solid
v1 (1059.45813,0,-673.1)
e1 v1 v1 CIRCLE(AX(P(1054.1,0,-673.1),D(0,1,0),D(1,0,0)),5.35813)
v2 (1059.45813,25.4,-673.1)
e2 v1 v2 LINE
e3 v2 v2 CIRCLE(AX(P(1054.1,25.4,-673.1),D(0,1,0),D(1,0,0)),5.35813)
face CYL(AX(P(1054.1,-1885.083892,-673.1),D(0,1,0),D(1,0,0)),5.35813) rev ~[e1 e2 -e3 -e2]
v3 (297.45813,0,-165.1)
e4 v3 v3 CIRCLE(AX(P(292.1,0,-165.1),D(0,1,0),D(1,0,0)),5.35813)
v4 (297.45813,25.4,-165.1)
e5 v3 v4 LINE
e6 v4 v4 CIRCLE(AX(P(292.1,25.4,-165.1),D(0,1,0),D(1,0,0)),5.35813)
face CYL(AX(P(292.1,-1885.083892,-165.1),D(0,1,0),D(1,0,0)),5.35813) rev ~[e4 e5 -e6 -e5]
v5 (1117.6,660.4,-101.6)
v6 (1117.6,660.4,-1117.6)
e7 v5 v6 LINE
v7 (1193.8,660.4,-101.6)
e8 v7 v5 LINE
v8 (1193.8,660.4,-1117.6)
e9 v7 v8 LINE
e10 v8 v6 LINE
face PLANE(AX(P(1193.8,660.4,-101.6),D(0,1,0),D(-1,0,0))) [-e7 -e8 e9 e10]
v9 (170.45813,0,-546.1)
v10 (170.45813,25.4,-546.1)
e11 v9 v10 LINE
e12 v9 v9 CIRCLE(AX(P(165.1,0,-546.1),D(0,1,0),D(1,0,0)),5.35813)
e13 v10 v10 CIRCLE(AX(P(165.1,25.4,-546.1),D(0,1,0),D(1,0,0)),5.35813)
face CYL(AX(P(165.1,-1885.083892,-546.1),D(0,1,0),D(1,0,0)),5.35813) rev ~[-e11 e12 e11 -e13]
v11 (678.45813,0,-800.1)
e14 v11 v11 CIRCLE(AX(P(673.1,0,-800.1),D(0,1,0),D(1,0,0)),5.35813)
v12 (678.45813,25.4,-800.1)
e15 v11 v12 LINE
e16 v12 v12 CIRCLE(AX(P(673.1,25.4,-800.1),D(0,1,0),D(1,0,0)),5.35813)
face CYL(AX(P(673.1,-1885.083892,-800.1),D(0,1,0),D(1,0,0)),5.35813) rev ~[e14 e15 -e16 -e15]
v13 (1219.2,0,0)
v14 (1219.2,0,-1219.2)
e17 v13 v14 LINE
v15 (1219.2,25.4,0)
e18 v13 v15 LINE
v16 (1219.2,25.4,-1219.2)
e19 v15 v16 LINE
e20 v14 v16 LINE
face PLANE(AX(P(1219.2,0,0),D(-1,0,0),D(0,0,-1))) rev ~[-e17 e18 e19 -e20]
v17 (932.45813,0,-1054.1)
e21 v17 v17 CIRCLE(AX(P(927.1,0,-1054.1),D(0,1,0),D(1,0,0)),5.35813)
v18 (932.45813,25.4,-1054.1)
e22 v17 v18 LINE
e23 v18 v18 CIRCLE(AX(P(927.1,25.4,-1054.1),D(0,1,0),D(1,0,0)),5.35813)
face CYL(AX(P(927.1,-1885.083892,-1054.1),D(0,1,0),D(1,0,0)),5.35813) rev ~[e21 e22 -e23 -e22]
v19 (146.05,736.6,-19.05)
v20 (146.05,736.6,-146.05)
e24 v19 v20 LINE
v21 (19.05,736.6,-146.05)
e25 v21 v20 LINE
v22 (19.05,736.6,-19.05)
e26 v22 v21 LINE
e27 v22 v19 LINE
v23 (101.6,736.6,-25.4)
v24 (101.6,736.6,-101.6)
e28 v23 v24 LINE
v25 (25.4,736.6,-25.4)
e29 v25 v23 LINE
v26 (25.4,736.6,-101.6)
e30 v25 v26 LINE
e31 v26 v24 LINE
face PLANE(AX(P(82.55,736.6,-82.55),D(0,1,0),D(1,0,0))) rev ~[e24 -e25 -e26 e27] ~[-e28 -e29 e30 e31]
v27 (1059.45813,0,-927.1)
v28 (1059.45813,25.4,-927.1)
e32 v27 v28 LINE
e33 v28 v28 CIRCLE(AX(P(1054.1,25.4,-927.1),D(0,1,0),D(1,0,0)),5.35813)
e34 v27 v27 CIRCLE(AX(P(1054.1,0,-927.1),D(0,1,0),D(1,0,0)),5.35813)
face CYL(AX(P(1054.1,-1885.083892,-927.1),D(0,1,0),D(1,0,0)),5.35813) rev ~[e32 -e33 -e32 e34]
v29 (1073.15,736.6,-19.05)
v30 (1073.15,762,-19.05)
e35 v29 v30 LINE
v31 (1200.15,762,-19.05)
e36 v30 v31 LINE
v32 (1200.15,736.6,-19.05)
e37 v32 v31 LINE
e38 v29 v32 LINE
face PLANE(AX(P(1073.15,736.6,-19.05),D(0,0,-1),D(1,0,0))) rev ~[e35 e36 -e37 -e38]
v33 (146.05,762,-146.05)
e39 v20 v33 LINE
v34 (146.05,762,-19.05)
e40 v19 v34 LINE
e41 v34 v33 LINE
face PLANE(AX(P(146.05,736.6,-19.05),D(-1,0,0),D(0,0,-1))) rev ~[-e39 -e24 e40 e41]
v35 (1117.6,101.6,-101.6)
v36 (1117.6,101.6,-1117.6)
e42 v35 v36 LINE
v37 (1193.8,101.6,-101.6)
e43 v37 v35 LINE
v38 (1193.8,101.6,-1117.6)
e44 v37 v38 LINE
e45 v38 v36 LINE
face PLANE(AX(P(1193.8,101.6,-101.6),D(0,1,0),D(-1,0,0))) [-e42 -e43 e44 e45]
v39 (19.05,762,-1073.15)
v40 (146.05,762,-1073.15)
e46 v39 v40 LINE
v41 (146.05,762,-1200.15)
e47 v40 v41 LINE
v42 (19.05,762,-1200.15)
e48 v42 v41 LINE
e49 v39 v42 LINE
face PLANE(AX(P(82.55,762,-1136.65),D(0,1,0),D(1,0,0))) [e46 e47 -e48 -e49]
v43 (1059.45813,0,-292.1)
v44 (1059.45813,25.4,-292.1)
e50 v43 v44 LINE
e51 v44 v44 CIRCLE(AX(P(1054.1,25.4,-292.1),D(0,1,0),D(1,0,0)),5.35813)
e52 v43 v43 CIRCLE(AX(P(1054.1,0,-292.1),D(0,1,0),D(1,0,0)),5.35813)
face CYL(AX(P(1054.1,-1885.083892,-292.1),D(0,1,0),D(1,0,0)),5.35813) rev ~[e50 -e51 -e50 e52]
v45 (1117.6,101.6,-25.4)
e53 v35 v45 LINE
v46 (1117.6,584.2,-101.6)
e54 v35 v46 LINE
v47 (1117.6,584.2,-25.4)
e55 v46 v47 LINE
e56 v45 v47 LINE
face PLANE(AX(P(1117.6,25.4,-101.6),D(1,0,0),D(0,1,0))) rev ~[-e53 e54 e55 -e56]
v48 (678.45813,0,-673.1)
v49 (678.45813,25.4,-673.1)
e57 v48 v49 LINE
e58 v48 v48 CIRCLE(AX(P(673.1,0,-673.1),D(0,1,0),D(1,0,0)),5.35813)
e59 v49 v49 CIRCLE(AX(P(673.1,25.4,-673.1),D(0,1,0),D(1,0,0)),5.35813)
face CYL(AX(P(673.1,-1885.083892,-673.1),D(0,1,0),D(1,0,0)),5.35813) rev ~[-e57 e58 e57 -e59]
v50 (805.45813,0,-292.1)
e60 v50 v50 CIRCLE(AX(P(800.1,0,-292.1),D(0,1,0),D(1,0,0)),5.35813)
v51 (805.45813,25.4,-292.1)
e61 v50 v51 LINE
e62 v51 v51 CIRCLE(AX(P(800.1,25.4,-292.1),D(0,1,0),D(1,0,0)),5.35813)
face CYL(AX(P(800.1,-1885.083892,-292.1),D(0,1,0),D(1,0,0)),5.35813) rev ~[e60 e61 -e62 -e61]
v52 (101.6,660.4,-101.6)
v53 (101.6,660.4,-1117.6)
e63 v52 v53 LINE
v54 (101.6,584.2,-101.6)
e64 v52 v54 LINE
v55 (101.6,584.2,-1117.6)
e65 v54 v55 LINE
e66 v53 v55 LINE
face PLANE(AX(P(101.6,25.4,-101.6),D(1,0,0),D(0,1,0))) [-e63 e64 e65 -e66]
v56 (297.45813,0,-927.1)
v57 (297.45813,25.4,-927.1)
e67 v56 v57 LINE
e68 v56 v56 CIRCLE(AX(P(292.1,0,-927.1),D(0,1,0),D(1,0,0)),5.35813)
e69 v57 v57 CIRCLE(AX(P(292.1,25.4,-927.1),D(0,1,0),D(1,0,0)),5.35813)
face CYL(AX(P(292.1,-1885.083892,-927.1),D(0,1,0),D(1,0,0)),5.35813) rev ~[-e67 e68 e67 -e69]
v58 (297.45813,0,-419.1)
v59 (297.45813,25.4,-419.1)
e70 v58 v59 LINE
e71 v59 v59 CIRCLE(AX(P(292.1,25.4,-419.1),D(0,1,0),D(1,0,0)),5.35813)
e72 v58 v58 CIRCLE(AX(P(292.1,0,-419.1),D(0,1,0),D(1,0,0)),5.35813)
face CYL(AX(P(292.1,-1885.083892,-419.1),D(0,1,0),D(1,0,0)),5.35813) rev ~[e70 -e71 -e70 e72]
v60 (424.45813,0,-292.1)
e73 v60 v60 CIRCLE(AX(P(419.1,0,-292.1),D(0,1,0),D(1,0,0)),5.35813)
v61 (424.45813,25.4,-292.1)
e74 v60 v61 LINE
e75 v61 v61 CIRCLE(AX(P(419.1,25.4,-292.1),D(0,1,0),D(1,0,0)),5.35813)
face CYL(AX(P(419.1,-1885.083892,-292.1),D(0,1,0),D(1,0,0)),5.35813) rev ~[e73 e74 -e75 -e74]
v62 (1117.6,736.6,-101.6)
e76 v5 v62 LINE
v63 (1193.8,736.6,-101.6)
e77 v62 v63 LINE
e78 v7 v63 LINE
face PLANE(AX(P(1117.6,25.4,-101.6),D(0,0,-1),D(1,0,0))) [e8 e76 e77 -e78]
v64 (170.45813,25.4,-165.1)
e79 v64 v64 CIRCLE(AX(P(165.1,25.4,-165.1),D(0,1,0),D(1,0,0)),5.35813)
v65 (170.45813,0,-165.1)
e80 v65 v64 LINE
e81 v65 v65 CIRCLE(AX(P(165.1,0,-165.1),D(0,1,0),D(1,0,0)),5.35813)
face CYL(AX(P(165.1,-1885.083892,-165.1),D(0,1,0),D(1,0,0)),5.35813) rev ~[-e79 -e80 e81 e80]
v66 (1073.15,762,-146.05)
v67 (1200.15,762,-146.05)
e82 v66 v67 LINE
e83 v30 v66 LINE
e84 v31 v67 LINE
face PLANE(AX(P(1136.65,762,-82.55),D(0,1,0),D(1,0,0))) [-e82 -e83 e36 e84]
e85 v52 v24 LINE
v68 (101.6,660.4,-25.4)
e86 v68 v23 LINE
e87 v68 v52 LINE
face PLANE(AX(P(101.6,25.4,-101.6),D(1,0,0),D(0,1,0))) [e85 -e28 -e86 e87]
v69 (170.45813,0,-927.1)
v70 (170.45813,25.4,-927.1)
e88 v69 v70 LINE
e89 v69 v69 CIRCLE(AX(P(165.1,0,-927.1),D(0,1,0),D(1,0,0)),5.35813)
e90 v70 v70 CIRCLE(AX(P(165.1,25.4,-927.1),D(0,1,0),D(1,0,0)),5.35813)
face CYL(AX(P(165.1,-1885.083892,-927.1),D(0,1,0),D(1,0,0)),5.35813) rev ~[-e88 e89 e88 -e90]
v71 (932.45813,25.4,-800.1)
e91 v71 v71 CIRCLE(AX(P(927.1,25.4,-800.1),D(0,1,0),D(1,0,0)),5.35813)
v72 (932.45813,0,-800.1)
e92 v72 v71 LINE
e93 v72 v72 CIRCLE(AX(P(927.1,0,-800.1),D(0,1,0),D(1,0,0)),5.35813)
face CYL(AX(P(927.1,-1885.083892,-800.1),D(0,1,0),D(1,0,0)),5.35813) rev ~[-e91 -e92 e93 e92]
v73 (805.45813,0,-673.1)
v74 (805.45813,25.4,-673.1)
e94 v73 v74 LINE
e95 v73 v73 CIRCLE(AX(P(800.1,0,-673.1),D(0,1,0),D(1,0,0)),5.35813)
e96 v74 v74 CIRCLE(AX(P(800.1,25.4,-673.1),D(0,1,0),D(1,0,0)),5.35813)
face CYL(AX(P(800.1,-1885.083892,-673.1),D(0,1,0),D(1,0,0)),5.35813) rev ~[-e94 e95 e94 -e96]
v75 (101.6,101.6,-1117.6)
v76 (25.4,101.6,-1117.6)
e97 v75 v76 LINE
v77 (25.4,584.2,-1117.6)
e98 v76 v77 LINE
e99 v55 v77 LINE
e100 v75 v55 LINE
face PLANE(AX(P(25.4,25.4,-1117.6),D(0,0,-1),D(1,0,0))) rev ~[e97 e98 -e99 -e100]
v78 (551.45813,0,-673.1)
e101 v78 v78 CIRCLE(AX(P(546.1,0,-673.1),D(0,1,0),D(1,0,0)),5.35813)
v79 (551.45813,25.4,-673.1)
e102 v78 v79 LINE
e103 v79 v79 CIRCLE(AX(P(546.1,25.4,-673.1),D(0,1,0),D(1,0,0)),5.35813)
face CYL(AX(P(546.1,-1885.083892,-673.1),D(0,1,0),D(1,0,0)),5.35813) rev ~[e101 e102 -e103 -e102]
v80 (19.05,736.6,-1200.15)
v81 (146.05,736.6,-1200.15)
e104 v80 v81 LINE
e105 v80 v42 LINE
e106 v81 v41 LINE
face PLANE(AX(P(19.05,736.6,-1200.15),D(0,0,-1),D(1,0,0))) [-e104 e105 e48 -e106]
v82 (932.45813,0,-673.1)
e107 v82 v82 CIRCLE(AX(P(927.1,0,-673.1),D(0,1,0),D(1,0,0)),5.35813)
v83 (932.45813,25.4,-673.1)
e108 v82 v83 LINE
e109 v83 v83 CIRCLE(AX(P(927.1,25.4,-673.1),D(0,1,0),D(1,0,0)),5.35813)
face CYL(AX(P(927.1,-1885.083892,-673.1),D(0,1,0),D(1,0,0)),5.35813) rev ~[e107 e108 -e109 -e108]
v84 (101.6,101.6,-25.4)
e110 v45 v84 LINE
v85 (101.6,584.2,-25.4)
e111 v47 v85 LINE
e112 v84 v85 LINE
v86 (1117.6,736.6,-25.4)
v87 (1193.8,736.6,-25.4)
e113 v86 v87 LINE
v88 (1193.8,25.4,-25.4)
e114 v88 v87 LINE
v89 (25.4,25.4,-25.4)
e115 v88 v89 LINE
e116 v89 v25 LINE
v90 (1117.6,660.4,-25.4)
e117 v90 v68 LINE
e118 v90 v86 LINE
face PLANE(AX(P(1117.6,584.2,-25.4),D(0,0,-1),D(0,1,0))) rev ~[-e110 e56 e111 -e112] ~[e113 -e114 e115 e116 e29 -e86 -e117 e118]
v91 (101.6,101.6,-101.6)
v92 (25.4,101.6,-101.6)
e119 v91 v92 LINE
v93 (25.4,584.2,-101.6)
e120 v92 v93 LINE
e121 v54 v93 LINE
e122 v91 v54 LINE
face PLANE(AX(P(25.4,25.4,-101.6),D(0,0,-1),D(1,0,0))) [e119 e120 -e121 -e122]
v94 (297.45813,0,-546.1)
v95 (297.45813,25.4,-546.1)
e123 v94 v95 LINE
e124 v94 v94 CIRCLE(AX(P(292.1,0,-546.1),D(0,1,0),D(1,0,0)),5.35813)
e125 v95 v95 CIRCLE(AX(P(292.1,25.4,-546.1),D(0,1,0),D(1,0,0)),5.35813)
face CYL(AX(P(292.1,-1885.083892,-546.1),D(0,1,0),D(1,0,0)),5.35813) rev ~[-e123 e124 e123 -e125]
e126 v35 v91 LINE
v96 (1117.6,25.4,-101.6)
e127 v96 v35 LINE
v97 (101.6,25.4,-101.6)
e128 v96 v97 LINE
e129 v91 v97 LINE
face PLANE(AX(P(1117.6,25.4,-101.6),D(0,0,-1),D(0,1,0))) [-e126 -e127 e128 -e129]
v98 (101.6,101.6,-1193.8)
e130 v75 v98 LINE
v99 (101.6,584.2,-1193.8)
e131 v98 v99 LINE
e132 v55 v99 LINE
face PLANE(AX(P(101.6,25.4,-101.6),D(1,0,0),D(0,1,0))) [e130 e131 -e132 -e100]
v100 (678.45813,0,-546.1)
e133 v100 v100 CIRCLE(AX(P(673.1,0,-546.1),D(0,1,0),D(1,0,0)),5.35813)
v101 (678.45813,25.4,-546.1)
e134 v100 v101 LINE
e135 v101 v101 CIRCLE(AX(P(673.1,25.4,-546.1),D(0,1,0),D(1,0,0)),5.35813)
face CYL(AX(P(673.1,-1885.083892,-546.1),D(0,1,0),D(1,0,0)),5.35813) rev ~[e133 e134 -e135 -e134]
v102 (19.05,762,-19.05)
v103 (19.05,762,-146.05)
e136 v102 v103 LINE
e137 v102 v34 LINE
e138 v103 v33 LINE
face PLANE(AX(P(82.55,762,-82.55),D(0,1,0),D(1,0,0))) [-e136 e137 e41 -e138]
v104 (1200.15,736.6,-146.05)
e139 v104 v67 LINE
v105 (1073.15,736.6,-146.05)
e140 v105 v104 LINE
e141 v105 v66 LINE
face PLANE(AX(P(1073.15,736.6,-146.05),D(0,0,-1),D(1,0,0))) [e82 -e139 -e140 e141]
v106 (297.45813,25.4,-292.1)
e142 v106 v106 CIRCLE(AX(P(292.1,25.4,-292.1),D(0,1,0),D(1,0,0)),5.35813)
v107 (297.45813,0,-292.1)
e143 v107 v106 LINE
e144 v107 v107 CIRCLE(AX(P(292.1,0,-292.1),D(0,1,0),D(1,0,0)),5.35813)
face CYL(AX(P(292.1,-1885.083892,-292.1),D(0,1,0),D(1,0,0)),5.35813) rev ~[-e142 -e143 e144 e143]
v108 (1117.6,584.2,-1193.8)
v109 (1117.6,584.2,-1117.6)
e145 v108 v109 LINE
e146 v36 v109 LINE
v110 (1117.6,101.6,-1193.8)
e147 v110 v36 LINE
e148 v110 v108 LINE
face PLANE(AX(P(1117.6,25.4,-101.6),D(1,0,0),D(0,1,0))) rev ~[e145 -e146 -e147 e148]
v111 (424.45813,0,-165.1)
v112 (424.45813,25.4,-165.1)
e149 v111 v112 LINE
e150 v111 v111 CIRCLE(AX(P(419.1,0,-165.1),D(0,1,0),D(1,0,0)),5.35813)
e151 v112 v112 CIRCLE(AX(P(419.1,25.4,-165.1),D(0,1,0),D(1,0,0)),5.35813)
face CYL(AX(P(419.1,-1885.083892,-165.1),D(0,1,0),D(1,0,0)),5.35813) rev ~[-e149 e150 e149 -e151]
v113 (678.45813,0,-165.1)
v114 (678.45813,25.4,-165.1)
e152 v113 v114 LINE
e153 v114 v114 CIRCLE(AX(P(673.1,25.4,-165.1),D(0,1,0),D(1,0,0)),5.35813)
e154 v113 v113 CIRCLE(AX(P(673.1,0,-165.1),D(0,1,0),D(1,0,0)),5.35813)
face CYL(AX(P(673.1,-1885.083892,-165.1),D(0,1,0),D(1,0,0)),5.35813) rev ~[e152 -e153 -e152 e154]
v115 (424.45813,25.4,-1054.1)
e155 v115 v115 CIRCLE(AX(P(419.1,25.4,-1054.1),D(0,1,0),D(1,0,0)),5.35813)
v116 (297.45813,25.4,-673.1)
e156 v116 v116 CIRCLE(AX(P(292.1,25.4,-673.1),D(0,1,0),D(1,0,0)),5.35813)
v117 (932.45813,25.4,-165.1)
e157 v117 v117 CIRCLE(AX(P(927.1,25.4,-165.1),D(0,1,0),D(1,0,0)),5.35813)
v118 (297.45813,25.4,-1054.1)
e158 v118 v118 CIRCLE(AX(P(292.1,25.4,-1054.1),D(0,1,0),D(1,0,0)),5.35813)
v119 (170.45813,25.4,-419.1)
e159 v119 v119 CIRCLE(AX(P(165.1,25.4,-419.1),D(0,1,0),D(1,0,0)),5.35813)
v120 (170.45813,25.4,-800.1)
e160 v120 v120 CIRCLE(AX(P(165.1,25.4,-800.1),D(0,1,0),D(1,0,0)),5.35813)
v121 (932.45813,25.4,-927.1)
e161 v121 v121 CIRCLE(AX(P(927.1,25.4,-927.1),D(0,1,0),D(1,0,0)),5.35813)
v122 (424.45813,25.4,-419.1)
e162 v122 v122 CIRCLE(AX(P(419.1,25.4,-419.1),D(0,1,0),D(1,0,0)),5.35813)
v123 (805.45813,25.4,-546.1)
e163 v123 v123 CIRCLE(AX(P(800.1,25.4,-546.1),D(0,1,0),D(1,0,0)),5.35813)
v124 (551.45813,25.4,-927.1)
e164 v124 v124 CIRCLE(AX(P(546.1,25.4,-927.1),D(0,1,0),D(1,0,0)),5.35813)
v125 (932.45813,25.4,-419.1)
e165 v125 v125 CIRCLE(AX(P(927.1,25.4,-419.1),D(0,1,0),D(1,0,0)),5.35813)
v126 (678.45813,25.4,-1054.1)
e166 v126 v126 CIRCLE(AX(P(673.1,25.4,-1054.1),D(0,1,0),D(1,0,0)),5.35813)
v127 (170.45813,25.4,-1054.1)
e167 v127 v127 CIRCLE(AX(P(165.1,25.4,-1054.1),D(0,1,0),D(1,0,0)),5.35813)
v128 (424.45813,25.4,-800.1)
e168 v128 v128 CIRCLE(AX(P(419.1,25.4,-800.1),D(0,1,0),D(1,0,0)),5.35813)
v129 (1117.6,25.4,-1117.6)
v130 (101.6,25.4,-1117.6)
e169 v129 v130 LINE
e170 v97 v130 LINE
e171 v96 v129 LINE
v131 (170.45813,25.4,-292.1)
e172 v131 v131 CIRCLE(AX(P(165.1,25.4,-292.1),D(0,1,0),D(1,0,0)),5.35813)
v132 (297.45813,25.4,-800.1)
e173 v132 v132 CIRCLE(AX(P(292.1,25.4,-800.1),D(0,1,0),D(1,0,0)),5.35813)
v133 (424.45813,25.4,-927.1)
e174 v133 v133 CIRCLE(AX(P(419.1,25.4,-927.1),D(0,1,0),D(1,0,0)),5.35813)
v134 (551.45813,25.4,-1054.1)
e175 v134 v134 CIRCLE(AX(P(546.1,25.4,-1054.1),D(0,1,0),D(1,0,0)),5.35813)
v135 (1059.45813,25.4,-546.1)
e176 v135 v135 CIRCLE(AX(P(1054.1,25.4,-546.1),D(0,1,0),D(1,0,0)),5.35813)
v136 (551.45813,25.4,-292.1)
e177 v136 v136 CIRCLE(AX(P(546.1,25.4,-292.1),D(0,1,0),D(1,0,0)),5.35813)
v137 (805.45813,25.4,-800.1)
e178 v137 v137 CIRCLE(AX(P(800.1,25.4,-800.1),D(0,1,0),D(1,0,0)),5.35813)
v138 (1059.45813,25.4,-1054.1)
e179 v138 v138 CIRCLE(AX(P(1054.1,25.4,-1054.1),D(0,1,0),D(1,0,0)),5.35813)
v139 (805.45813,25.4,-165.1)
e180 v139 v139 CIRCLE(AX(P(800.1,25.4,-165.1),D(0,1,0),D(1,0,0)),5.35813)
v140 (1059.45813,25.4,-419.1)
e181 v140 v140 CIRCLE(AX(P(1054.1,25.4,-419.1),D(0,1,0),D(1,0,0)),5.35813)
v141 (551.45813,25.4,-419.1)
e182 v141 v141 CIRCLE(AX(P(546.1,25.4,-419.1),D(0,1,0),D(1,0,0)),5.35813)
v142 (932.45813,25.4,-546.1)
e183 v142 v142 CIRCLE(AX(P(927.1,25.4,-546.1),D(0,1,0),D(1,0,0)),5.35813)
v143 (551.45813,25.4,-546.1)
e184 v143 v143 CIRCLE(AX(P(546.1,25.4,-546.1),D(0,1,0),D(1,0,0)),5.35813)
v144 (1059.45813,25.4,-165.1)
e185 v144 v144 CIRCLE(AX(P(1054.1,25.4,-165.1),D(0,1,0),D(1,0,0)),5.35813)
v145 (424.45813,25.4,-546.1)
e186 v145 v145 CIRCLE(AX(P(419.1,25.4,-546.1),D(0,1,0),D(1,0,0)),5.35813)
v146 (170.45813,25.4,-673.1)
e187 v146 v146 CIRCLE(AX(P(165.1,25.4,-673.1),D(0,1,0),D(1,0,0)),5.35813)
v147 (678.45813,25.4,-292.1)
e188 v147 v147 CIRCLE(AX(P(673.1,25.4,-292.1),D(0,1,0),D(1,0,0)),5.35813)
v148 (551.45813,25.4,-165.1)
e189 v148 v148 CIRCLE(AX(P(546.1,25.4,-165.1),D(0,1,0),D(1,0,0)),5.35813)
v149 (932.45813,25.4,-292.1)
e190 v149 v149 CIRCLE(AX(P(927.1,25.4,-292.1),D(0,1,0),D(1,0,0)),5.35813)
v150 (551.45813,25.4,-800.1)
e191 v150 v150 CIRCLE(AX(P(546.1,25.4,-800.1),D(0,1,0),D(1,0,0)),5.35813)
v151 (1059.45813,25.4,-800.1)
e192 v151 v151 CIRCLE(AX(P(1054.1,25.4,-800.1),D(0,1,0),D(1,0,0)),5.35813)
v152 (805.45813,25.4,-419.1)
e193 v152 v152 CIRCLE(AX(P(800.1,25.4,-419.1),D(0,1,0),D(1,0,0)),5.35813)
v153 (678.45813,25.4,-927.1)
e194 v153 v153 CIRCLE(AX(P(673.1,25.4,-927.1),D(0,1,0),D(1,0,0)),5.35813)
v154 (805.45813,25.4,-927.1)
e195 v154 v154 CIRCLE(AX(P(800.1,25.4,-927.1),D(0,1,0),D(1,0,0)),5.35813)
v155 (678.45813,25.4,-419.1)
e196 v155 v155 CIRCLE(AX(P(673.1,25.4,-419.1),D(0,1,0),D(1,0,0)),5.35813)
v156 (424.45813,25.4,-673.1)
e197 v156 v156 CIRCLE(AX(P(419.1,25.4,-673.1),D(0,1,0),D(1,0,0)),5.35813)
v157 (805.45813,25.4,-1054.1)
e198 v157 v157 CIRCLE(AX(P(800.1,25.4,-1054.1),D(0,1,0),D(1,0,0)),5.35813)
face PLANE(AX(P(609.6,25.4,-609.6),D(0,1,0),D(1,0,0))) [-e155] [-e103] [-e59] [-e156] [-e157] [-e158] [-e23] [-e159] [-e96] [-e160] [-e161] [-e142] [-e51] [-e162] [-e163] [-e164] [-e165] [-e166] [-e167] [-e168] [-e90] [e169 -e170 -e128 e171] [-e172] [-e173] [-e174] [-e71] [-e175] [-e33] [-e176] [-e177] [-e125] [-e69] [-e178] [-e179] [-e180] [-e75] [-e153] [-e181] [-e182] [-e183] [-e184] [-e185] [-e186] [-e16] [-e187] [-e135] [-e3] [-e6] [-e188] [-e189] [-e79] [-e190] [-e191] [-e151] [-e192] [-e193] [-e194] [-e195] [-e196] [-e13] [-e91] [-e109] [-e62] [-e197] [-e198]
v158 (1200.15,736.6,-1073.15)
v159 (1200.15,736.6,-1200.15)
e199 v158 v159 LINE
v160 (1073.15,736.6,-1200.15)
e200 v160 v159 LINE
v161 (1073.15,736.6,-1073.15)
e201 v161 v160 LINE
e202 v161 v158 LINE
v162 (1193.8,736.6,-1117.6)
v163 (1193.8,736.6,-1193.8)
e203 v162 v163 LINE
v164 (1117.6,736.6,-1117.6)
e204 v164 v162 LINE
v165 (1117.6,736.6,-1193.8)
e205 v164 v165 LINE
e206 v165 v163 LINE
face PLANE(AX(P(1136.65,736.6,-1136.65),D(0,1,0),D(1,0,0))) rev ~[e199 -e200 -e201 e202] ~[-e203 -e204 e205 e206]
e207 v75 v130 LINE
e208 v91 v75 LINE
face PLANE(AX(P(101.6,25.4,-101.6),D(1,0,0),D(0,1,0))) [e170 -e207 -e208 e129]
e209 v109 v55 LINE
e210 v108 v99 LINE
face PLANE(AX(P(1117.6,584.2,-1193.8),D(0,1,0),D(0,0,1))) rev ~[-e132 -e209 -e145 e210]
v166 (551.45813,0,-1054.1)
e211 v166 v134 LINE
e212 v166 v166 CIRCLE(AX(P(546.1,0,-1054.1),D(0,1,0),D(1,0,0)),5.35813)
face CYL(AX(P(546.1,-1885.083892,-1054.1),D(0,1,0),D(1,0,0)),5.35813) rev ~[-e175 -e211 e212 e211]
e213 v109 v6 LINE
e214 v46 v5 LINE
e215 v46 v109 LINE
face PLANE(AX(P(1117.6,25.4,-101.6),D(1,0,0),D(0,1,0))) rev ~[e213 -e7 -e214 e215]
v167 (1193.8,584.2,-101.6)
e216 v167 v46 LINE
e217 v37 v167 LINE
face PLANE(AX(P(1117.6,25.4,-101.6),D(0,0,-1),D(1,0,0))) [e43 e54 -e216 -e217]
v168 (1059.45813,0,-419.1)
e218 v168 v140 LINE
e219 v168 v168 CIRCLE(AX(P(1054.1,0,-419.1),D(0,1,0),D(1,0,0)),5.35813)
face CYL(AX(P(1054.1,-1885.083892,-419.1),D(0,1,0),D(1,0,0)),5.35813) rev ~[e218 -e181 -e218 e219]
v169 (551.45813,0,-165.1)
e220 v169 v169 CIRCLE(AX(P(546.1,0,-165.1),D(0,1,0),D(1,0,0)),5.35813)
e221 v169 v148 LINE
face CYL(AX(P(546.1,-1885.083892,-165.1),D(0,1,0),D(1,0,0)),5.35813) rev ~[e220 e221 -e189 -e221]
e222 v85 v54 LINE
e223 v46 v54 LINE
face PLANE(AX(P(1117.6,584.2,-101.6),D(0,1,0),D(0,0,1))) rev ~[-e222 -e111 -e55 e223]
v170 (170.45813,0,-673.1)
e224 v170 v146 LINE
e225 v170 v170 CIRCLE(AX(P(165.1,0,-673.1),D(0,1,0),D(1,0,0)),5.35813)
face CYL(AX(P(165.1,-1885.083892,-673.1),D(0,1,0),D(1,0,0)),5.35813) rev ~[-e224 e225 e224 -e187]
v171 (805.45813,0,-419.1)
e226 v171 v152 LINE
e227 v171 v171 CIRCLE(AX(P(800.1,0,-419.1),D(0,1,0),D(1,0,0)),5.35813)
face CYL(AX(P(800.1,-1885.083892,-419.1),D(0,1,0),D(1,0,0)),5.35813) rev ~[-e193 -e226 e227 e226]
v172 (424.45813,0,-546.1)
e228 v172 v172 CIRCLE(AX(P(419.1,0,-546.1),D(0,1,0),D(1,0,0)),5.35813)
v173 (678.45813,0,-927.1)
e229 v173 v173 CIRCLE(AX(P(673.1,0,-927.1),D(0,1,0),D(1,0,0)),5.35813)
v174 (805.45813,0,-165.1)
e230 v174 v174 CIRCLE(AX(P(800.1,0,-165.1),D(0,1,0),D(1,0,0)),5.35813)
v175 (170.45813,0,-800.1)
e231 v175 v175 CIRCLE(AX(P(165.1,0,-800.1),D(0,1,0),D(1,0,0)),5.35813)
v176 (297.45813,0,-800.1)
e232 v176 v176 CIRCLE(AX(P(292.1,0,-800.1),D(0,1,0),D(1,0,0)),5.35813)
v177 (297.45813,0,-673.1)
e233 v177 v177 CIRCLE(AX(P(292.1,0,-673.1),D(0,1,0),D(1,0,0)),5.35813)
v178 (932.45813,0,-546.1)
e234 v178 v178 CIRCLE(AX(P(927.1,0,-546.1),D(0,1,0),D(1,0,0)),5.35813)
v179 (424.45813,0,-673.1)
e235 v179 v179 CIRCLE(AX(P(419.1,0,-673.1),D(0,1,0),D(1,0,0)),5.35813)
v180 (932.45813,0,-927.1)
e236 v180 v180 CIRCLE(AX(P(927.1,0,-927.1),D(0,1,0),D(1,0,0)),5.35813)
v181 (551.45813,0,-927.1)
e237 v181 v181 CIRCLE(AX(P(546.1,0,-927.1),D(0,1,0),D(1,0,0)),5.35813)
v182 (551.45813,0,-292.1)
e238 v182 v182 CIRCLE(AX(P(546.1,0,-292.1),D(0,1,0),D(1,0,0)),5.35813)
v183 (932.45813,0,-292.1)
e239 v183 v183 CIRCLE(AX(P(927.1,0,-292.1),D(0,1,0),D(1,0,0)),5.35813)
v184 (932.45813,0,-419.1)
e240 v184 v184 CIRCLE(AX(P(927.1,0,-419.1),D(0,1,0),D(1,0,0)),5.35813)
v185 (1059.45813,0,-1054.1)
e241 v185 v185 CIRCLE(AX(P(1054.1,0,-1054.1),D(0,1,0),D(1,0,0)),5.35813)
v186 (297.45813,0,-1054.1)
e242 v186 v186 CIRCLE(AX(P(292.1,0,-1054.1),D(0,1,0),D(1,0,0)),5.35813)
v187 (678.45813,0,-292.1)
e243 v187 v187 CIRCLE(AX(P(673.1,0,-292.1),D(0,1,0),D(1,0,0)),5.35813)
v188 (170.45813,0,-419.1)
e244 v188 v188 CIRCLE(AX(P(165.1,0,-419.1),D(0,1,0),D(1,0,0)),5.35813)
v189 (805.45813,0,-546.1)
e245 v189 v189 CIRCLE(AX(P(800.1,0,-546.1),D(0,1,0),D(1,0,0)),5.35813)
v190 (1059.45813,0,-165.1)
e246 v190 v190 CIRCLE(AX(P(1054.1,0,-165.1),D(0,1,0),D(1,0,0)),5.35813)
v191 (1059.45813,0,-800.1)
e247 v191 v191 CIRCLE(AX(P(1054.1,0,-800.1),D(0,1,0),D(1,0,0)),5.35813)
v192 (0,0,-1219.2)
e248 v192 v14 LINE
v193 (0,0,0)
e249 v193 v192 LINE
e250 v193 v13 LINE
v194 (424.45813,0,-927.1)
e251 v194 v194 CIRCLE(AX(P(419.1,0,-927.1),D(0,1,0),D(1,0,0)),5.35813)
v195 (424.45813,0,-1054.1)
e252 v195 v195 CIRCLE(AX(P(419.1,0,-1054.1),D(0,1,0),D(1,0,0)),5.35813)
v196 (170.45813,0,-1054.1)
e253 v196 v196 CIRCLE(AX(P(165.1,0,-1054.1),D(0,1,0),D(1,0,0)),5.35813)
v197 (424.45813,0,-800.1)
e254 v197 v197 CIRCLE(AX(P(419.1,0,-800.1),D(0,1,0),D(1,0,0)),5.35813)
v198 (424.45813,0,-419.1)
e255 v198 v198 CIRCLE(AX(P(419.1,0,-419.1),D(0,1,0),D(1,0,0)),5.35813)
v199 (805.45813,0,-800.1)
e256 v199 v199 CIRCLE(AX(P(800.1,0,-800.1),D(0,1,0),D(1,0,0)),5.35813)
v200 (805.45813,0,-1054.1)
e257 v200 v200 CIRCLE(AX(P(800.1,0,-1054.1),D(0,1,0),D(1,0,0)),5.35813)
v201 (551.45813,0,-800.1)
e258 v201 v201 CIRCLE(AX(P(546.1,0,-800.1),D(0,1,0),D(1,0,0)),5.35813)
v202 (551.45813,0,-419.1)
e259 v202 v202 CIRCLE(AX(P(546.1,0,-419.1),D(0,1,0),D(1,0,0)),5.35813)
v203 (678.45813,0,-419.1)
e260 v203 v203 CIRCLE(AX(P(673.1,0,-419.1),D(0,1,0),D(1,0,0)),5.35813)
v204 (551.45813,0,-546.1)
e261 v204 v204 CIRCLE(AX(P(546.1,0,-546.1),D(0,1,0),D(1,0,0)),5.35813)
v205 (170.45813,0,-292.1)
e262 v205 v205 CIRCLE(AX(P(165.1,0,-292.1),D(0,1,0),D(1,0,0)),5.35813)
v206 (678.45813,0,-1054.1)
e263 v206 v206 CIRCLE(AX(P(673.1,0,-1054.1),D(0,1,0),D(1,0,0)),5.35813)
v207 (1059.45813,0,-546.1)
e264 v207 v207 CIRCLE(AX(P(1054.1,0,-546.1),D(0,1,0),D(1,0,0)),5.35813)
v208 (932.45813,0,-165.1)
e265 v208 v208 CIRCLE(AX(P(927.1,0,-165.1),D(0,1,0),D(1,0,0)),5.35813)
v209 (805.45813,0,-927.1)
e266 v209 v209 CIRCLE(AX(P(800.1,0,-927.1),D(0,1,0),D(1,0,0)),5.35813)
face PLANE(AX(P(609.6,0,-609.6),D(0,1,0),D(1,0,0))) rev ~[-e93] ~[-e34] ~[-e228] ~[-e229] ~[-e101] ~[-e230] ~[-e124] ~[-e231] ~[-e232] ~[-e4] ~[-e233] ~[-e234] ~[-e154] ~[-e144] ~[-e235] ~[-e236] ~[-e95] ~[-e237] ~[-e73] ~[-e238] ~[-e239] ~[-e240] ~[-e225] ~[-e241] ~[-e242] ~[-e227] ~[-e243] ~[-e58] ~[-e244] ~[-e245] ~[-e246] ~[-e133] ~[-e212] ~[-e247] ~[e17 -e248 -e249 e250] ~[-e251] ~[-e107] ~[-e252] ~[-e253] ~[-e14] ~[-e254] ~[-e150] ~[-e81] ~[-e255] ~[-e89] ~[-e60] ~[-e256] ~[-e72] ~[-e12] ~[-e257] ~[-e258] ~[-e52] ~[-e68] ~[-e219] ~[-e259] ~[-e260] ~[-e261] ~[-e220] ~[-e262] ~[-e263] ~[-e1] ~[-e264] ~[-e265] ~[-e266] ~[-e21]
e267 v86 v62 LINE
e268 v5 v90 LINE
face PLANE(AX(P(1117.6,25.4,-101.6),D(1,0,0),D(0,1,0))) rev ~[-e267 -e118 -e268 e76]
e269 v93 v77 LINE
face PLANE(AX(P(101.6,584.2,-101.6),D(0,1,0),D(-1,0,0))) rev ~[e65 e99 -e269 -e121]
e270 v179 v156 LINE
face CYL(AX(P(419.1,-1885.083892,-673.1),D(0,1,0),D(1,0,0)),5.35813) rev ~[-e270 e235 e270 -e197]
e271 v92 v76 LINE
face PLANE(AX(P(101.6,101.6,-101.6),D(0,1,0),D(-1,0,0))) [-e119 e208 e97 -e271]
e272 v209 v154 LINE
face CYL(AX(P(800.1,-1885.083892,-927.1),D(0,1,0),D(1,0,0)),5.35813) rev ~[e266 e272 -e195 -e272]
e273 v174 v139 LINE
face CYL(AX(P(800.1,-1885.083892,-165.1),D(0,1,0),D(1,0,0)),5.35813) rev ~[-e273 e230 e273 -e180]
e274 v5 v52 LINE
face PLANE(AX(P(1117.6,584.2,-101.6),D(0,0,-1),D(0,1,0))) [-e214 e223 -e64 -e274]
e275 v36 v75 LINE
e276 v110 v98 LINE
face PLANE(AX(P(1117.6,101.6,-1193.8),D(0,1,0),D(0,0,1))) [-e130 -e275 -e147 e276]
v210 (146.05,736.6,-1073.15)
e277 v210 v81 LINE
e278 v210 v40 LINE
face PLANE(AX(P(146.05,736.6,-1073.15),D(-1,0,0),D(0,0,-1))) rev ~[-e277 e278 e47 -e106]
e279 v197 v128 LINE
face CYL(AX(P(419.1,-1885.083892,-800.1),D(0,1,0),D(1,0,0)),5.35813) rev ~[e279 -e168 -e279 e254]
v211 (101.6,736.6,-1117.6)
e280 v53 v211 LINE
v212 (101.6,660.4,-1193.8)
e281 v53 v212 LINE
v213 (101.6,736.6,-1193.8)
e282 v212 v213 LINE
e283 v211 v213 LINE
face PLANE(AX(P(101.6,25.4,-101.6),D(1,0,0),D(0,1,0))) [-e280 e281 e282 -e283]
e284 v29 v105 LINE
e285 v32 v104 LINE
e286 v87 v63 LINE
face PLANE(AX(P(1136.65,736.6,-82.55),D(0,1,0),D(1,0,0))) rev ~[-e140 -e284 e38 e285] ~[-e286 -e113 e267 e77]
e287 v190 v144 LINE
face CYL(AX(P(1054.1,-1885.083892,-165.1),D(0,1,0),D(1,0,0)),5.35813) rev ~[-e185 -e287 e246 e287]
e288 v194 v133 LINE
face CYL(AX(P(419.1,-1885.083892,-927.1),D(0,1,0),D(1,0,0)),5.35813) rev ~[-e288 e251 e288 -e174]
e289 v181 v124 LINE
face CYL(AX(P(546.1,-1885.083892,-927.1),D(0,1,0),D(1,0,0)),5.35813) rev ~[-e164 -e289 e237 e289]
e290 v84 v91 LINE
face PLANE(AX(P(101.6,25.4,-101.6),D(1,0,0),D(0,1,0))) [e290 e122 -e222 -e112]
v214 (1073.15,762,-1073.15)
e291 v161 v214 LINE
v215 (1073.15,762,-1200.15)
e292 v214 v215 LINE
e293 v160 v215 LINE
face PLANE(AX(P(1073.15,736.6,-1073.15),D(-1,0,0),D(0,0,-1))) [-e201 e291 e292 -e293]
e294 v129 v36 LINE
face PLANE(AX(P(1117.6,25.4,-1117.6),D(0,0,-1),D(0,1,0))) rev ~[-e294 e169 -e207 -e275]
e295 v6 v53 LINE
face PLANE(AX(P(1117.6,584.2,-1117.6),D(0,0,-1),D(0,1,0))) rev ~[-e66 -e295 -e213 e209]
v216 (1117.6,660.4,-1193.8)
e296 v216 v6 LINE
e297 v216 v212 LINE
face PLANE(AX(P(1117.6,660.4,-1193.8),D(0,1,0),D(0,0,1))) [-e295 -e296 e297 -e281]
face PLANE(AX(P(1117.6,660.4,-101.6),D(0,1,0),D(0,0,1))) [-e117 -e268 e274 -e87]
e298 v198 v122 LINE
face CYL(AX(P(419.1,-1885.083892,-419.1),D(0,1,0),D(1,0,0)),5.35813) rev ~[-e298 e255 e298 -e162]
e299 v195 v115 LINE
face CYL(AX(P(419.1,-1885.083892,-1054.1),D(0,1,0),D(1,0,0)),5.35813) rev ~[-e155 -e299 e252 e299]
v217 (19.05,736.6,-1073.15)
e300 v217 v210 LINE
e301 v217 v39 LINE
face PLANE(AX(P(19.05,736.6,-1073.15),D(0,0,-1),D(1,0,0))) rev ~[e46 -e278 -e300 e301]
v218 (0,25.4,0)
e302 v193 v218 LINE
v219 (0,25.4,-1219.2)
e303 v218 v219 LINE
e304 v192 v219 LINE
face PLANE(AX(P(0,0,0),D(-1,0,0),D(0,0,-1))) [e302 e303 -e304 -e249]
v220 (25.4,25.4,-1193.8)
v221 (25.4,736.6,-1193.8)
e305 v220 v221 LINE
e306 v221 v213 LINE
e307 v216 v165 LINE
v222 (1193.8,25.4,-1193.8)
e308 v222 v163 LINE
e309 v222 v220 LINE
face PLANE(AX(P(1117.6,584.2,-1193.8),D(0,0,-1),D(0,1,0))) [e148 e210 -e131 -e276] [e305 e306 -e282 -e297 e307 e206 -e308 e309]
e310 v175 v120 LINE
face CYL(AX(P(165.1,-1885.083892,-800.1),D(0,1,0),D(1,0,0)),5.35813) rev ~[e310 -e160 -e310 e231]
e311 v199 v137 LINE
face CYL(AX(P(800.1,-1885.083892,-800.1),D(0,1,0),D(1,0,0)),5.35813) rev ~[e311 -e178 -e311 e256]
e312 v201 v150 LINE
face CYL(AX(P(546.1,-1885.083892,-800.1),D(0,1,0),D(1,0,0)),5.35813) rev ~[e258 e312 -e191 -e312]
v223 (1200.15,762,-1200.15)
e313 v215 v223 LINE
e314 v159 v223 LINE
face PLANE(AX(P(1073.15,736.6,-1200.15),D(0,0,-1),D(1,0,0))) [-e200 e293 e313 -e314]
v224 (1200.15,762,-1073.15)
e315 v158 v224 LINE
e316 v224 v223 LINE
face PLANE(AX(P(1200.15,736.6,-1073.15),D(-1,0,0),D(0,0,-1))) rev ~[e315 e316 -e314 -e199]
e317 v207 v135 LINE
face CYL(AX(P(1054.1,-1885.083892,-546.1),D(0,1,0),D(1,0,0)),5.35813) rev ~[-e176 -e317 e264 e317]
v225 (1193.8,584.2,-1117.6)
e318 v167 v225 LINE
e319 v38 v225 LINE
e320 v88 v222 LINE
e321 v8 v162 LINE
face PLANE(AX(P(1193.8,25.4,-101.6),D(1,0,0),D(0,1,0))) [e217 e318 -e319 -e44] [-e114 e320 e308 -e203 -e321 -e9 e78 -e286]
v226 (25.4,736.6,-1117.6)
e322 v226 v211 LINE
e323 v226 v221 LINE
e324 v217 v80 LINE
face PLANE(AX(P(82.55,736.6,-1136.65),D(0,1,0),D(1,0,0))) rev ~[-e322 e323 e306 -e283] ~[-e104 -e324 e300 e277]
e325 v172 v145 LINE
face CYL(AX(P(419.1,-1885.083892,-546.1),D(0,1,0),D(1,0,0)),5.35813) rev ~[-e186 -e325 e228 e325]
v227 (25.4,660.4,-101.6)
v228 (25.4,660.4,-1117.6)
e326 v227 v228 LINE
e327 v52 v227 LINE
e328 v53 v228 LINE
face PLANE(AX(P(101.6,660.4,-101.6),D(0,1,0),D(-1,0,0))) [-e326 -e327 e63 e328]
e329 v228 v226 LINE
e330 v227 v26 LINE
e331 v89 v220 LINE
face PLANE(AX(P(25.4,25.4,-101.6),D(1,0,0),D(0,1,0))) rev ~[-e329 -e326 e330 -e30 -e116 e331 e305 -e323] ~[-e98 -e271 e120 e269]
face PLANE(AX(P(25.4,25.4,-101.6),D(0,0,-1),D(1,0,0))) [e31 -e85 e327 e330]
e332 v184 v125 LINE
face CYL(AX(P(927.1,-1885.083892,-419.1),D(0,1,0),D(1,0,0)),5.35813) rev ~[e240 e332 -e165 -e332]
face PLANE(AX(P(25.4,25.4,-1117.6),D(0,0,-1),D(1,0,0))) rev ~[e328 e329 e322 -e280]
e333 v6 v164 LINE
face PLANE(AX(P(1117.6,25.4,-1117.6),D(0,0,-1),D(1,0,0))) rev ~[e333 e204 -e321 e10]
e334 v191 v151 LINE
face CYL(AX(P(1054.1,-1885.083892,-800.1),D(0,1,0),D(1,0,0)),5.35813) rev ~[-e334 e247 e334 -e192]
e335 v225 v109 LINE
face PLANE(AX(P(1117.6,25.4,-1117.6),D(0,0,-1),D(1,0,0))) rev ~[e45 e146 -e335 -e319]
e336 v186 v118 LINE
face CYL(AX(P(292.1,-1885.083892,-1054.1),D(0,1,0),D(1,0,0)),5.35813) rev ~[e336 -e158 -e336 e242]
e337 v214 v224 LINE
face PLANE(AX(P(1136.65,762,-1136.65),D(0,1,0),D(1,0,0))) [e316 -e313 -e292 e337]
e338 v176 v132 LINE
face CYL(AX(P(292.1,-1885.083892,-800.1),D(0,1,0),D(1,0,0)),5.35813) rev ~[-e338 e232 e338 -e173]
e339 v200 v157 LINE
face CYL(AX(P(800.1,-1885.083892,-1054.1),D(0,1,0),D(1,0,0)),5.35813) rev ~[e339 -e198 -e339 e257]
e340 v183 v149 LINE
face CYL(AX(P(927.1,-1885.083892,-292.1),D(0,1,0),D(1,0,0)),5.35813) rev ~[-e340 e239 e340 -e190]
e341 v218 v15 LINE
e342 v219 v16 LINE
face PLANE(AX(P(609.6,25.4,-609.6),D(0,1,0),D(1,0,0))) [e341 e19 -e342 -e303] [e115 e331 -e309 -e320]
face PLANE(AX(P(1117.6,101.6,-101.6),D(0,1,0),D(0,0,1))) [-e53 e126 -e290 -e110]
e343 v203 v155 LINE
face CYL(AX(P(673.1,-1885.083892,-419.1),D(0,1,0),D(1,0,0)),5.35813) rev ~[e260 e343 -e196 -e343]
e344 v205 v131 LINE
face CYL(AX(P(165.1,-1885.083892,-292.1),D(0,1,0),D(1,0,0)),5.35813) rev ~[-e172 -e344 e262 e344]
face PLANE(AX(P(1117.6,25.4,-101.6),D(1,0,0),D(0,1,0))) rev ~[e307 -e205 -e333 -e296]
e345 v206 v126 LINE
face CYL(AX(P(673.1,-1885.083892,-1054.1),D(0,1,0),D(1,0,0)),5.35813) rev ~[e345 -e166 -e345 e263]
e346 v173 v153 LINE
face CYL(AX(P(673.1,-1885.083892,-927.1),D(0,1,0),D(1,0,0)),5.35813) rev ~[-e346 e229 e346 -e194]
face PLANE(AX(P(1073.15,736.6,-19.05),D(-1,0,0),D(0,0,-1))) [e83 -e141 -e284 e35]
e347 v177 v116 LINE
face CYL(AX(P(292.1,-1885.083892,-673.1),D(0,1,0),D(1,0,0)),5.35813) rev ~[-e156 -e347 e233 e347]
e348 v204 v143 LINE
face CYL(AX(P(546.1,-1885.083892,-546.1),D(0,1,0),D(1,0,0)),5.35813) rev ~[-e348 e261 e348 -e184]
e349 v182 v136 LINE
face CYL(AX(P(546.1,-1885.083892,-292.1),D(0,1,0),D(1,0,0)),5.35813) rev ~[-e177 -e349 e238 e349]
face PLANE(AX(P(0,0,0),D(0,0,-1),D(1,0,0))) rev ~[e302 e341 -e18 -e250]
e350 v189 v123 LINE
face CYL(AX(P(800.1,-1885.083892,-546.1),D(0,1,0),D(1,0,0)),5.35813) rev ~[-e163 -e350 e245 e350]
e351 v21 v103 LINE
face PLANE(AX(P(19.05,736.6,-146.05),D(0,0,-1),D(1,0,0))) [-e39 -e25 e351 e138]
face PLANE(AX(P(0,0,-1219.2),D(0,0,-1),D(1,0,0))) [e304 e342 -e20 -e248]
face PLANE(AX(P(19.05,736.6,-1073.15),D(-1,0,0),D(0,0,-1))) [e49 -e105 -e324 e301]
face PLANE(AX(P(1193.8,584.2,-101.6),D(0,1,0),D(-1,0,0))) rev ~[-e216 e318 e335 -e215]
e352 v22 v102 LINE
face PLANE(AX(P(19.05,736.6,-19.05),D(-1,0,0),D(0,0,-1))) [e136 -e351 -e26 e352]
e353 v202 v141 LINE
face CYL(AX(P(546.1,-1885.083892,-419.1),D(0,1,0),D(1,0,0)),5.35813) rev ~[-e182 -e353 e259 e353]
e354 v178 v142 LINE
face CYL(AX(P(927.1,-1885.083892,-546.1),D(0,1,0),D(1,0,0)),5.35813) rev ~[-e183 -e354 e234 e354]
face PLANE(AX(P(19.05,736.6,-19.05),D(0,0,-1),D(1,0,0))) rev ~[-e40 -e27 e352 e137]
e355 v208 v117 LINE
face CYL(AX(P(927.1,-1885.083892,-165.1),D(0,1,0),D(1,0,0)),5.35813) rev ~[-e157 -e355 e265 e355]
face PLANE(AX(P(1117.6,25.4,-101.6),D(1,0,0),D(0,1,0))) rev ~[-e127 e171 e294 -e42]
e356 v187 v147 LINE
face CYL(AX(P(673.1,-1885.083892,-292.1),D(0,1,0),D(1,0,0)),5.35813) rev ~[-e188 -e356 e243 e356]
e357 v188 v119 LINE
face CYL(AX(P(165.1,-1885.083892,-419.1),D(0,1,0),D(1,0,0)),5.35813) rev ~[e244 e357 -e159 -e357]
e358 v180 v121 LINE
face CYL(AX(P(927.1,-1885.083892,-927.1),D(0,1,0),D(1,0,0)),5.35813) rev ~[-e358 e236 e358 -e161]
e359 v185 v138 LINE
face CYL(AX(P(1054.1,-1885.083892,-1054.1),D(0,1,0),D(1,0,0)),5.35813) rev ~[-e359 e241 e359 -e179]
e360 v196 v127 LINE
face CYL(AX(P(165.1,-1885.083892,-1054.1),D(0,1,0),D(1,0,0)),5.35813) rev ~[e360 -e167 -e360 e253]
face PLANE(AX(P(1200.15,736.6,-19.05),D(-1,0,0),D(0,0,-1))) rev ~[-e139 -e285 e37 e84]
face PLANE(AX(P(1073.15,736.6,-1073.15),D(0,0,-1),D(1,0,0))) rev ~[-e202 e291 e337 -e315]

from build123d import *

# Parameters (mm, degrees)
SKETCH1_W               = 1219.2
SKETCH1_H               = 1219.2
BOSS_EXTRUDE1_DEPTH     = 25.4
SKETCH2_W               = 76.2
SKETCH2_H               = 76.2
BOSS_EXTRUDE2_DEPTH     = 711.2
BOSS_EXTRUDE3_REACH     = 1812.541
SKETCH3_W               = 76.2
SKETCH3_H               = 76.2
BOSS_EXTRUDE4_REACH     = 1812.541
SKETCH4_W               = 76.2
SKETCH4_H               = 76.2
SKETCH5_W               = 127
SKETCH5_H               = 127
BOSS_EXTRUDE5_DEPTH     = 25.4
F_1_2_13_TAPPED_HOLE1_D = 10.71626


with BuildPart() as part:
    # Sketch1 → Boss-Extrude1 (new body)
    with BuildSketch(Plane(origin=(0, 0, 0), x_dir=(1, 0, 0), z_dir=(0, 1, 0))):
        with Locations((609.6, 609.6)):
            Rectangle(SKETCH1_W, SKETCH1_H)
    extrude(amount=BOSS_EXTRUDE1_DEPTH)

    # Sketch2 → Boss-Extrude2 (add)
    with BuildSketch(Plane(origin=(0, 25.4, 0), x_dir=(1, 0, 0), z_dir=(0, 1, 0))):
        with Locations((63.5, 1155.7)):
            Rectangle(SKETCH2_W, SKETCH2_H)
        with Locations((1155.7, 1155.7)):
            Rectangle(SKETCH2_W, SKETCH2_H)
        with Locations((1155.7, 63.5)):
            Rectangle(SKETCH2_W, SKETCH2_H)
        with Locations((63.5, 63.5)):
            Rectangle(SKETCH2_W, SKETCH2_H)
    extrude(amount=BOSS_EXTRUDE2_DEPTH)

    # Sketch3 → Boss-Extrude3 (add, up to next)
    with BuildSketch(Plane(origin=(0, 0, -101.6), x_dir=(-1, 0, 0), z_dir=(0, 0, -1)), mode=Mode.PRIVATE) as boss_extrude3_sk1:
        with Locations((-63.5, 63.5)):
            Rectangle(SKETCH3_W, SKETCH3_H)
    boss_extrude3_tool1 = extrude(boss_extrude3_sk1.sketch, amount=BOSS_EXTRUDE3_REACH, mode=Mode.PRIVATE) - part.part
    # Sketch3 → Boss-Extrude3 (add, up to next)
    with BuildSketch(Plane(origin=(0, 0, -101.6), x_dir=(-1, 0, 0), z_dir=(0, 0, -1)), mode=Mode.PRIVATE) as boss_extrude3_sk2:
        with Locations((-1155.7, 63.5)):
            Rectangle(SKETCH3_W, SKETCH3_H)
    boss_extrude3_tool2 = extrude(boss_extrude3_sk2.sketch, amount=BOSS_EXTRUDE3_REACH, mode=Mode.PRIVATE) - part.part
    # Sketch3 → Boss-Extrude3 (add, up to next)
    with BuildSketch(Plane(origin=(0, 0, -101.6), x_dir=(-1, 0, 0), z_dir=(0, 0, -1)), mode=Mode.PRIVATE) as boss_extrude3_sk3:
        with Locations((-63.5, 622.3)):
            Rectangle(SKETCH3_W, SKETCH3_H)
    boss_extrude3_tool3 = extrude(boss_extrude3_sk3.sketch, amount=BOSS_EXTRUDE3_REACH, mode=Mode.PRIVATE) - part.part
    # Sketch3 → Boss-Extrude3 (add, up to next)
    with BuildSketch(Plane(origin=(0, 0, -101.6), x_dir=(-1, 0, 0), z_dir=(0, 0, -1)), mode=Mode.PRIVATE) as boss_extrude3_sk4:
        with Locations((-1155.7, 622.3)):
            Rectangle(SKETCH3_W, SKETCH3_H)
    boss_extrude3_tool4 = extrude(boss_extrude3_sk4.sketch, amount=BOSS_EXTRUDE3_REACH, mode=Mode.PRIVATE) - part.part
    add(boss_extrude3_tool1.solids().sort_by_distance((63.5, 63.5, -101.6))[0])
    add(boss_extrude3_tool2.solids().sort_by_distance((1155.7, 63.5, -101.6))[0])
    add(boss_extrude3_tool3.solids().sort_by_distance((63.5, 622.3, -101.6))[0])
    add(boss_extrude3_tool4.solids().sort_by_distance((1155.7, 622.3, -101.6))[0])

    # Sketch4 → Boss-Extrude4 (add, up to next)
    with BuildSketch(Plane.ZY.offset(-1117.6), mode=Mode.PRIVATE) as boss_extrude4_sk1:
        with Locations((-63.5, 63.5)):
            Rectangle(SKETCH4_W, SKETCH4_H)
    boss_extrude4_tool1 = extrude(boss_extrude4_sk1.sketch, amount=BOSS_EXTRUDE4_REACH, mode=Mode.PRIVATE) - part.part
    # Sketch4 → Boss-Extrude4 (add, up to next)
    with BuildSketch(Plane.ZY.offset(-1117.6), mode=Mode.PRIVATE) as boss_extrude4_sk2:
        with Locations((-1155.7, 63.5)):
            Rectangle(SKETCH4_W, SKETCH4_H)
    boss_extrude4_tool2 = extrude(boss_extrude4_sk2.sketch, amount=BOSS_EXTRUDE4_REACH, mode=Mode.PRIVATE) - part.part
    # Sketch4 → Boss-Extrude4 (add, up to next)
    with BuildSketch(Plane.ZY.offset(-1117.6), mode=Mode.PRIVATE) as boss_extrude4_sk3:
        with Locations((-63.5, 622.3)):
            Rectangle(SKETCH4_W, SKETCH4_H)
    boss_extrude4_tool3 = extrude(boss_extrude4_sk3.sketch, amount=BOSS_EXTRUDE4_REACH, mode=Mode.PRIVATE) - part.part
    # Sketch4 → Boss-Extrude4 (add, up to next)
    with BuildSketch(Plane.ZY.offset(-1117.6), mode=Mode.PRIVATE) as boss_extrude4_sk4:
        with Locations((-1155.7, 622.3)):
            Rectangle(SKETCH4_W, SKETCH4_H)
    boss_extrude4_tool4 = extrude(boss_extrude4_sk4.sketch, amount=BOSS_EXTRUDE4_REACH, mode=Mode.PRIVATE) - part.part
    add(boss_extrude4_tool1.solids().sort_by_distance((1117.6, 63.5, -63.5))[0])
    add(boss_extrude4_tool2.solids().sort_by_distance((1117.6, 63.5, -1155.7))[0])
    add(boss_extrude4_tool3.solids().sort_by_distance((1117.6, 622.3, -63.5))[0])
    add(boss_extrude4_tool4.solids().sort_by_distance((1117.6, 622.3, -1155.7))[0])

    # Sketch5 → Boss-Extrude5 (add)
    with BuildSketch(Plane(origin=(0, 736.6, 0), x_dir=(1, 0, 0), z_dir=(0, 1, 0))):
        with Locations((82.55, 82.55)):
            Rectangle(SKETCH5_W, SKETCH5_H)
        with Locations((1136.65, 82.55)):
            Rectangle(SKETCH5_W, SKETCH5_H)
        with Locations((1136.65, 1136.65)):
            Rectangle(SKETCH5_W, SKETCH5_H)
        with Locations((82.55, 1136.65)):
            Rectangle(SKETCH5_W, SKETCH5_H)
    extrude(amount=BOSS_EXTRUDE5_DEPTH)

    # 1/2-13 Tapped Hole1 (through all)
    with Locations(Plane(origin=(0, 0, 0), x_dir=(-1, 0, 0), z_dir=(0, -1, 0))):
        with Locations((-673.1, 546.1), (-546.1, 546.1), (-419.1, 546.1), (-292.1, 546.1), (-165.1, 546.1), (-546.1, 419.1), (-419.1, 419.1), (-292.1, 419.1), (-165.1, 419.1), (-546.1, 292.1), (-419.1, 292.1), (-292.1, 292.1), (-165.1, 292.1), (-546.1, 165.1), (-419.1, 165.1), (-292.1, 165.1), (-165.1, 165.1), (-673.1, 419.1), (-673.1, 292.1), (-673.1, 165.1), (-165.1, 673.1), (-673.1, 1054.1), (-673.1, 927.1), (-673.1, 800.1), (-165.1, 1054.1), (-292.1, 1054.1), (-419.1, 1054.1), (-546.1, 1054.1), (-165.1, 927.1), (-292.1, 927.1), (-419.1, 927.1), (-546.1, 927.1), (-165.1, 800.1), (-292.1, 800.1), (-419.1, 800.1), (-546.1, 800.1), (-292.1, 673.1), (-419.1, 673.1), (-546.1, 673.1), (-673.1, 673.1), (-800.1, 673.1), (-927.1, 673.1), (-800.1, 800.1), (-927.1, 800.1), (-1054.1, 800.1), (-800.1, 927.1), (-927.1, 927.1), (-1054.1, 927.1), (-800.1, 1054.1), (-927.1, 1054.1), (-1054.1, 1054.1), (-1054.1, 673.1), (-1054.1, 165.1), (-927.1, 165.1), (-800.1, 165.1), (-1054.1, 292.1), (-927.1, 292.1), (-800.1, 292.1), (-1054.1, 419.1), (-927.1, 419.1), (-800.1, 419.1), (-1054.1, 546.1), (-927.1, 546.1), (-800.1, 546.1)):
            Hole(F_1_2_13_TAPPED_HOLE1_D / 2)


solid = part.part
